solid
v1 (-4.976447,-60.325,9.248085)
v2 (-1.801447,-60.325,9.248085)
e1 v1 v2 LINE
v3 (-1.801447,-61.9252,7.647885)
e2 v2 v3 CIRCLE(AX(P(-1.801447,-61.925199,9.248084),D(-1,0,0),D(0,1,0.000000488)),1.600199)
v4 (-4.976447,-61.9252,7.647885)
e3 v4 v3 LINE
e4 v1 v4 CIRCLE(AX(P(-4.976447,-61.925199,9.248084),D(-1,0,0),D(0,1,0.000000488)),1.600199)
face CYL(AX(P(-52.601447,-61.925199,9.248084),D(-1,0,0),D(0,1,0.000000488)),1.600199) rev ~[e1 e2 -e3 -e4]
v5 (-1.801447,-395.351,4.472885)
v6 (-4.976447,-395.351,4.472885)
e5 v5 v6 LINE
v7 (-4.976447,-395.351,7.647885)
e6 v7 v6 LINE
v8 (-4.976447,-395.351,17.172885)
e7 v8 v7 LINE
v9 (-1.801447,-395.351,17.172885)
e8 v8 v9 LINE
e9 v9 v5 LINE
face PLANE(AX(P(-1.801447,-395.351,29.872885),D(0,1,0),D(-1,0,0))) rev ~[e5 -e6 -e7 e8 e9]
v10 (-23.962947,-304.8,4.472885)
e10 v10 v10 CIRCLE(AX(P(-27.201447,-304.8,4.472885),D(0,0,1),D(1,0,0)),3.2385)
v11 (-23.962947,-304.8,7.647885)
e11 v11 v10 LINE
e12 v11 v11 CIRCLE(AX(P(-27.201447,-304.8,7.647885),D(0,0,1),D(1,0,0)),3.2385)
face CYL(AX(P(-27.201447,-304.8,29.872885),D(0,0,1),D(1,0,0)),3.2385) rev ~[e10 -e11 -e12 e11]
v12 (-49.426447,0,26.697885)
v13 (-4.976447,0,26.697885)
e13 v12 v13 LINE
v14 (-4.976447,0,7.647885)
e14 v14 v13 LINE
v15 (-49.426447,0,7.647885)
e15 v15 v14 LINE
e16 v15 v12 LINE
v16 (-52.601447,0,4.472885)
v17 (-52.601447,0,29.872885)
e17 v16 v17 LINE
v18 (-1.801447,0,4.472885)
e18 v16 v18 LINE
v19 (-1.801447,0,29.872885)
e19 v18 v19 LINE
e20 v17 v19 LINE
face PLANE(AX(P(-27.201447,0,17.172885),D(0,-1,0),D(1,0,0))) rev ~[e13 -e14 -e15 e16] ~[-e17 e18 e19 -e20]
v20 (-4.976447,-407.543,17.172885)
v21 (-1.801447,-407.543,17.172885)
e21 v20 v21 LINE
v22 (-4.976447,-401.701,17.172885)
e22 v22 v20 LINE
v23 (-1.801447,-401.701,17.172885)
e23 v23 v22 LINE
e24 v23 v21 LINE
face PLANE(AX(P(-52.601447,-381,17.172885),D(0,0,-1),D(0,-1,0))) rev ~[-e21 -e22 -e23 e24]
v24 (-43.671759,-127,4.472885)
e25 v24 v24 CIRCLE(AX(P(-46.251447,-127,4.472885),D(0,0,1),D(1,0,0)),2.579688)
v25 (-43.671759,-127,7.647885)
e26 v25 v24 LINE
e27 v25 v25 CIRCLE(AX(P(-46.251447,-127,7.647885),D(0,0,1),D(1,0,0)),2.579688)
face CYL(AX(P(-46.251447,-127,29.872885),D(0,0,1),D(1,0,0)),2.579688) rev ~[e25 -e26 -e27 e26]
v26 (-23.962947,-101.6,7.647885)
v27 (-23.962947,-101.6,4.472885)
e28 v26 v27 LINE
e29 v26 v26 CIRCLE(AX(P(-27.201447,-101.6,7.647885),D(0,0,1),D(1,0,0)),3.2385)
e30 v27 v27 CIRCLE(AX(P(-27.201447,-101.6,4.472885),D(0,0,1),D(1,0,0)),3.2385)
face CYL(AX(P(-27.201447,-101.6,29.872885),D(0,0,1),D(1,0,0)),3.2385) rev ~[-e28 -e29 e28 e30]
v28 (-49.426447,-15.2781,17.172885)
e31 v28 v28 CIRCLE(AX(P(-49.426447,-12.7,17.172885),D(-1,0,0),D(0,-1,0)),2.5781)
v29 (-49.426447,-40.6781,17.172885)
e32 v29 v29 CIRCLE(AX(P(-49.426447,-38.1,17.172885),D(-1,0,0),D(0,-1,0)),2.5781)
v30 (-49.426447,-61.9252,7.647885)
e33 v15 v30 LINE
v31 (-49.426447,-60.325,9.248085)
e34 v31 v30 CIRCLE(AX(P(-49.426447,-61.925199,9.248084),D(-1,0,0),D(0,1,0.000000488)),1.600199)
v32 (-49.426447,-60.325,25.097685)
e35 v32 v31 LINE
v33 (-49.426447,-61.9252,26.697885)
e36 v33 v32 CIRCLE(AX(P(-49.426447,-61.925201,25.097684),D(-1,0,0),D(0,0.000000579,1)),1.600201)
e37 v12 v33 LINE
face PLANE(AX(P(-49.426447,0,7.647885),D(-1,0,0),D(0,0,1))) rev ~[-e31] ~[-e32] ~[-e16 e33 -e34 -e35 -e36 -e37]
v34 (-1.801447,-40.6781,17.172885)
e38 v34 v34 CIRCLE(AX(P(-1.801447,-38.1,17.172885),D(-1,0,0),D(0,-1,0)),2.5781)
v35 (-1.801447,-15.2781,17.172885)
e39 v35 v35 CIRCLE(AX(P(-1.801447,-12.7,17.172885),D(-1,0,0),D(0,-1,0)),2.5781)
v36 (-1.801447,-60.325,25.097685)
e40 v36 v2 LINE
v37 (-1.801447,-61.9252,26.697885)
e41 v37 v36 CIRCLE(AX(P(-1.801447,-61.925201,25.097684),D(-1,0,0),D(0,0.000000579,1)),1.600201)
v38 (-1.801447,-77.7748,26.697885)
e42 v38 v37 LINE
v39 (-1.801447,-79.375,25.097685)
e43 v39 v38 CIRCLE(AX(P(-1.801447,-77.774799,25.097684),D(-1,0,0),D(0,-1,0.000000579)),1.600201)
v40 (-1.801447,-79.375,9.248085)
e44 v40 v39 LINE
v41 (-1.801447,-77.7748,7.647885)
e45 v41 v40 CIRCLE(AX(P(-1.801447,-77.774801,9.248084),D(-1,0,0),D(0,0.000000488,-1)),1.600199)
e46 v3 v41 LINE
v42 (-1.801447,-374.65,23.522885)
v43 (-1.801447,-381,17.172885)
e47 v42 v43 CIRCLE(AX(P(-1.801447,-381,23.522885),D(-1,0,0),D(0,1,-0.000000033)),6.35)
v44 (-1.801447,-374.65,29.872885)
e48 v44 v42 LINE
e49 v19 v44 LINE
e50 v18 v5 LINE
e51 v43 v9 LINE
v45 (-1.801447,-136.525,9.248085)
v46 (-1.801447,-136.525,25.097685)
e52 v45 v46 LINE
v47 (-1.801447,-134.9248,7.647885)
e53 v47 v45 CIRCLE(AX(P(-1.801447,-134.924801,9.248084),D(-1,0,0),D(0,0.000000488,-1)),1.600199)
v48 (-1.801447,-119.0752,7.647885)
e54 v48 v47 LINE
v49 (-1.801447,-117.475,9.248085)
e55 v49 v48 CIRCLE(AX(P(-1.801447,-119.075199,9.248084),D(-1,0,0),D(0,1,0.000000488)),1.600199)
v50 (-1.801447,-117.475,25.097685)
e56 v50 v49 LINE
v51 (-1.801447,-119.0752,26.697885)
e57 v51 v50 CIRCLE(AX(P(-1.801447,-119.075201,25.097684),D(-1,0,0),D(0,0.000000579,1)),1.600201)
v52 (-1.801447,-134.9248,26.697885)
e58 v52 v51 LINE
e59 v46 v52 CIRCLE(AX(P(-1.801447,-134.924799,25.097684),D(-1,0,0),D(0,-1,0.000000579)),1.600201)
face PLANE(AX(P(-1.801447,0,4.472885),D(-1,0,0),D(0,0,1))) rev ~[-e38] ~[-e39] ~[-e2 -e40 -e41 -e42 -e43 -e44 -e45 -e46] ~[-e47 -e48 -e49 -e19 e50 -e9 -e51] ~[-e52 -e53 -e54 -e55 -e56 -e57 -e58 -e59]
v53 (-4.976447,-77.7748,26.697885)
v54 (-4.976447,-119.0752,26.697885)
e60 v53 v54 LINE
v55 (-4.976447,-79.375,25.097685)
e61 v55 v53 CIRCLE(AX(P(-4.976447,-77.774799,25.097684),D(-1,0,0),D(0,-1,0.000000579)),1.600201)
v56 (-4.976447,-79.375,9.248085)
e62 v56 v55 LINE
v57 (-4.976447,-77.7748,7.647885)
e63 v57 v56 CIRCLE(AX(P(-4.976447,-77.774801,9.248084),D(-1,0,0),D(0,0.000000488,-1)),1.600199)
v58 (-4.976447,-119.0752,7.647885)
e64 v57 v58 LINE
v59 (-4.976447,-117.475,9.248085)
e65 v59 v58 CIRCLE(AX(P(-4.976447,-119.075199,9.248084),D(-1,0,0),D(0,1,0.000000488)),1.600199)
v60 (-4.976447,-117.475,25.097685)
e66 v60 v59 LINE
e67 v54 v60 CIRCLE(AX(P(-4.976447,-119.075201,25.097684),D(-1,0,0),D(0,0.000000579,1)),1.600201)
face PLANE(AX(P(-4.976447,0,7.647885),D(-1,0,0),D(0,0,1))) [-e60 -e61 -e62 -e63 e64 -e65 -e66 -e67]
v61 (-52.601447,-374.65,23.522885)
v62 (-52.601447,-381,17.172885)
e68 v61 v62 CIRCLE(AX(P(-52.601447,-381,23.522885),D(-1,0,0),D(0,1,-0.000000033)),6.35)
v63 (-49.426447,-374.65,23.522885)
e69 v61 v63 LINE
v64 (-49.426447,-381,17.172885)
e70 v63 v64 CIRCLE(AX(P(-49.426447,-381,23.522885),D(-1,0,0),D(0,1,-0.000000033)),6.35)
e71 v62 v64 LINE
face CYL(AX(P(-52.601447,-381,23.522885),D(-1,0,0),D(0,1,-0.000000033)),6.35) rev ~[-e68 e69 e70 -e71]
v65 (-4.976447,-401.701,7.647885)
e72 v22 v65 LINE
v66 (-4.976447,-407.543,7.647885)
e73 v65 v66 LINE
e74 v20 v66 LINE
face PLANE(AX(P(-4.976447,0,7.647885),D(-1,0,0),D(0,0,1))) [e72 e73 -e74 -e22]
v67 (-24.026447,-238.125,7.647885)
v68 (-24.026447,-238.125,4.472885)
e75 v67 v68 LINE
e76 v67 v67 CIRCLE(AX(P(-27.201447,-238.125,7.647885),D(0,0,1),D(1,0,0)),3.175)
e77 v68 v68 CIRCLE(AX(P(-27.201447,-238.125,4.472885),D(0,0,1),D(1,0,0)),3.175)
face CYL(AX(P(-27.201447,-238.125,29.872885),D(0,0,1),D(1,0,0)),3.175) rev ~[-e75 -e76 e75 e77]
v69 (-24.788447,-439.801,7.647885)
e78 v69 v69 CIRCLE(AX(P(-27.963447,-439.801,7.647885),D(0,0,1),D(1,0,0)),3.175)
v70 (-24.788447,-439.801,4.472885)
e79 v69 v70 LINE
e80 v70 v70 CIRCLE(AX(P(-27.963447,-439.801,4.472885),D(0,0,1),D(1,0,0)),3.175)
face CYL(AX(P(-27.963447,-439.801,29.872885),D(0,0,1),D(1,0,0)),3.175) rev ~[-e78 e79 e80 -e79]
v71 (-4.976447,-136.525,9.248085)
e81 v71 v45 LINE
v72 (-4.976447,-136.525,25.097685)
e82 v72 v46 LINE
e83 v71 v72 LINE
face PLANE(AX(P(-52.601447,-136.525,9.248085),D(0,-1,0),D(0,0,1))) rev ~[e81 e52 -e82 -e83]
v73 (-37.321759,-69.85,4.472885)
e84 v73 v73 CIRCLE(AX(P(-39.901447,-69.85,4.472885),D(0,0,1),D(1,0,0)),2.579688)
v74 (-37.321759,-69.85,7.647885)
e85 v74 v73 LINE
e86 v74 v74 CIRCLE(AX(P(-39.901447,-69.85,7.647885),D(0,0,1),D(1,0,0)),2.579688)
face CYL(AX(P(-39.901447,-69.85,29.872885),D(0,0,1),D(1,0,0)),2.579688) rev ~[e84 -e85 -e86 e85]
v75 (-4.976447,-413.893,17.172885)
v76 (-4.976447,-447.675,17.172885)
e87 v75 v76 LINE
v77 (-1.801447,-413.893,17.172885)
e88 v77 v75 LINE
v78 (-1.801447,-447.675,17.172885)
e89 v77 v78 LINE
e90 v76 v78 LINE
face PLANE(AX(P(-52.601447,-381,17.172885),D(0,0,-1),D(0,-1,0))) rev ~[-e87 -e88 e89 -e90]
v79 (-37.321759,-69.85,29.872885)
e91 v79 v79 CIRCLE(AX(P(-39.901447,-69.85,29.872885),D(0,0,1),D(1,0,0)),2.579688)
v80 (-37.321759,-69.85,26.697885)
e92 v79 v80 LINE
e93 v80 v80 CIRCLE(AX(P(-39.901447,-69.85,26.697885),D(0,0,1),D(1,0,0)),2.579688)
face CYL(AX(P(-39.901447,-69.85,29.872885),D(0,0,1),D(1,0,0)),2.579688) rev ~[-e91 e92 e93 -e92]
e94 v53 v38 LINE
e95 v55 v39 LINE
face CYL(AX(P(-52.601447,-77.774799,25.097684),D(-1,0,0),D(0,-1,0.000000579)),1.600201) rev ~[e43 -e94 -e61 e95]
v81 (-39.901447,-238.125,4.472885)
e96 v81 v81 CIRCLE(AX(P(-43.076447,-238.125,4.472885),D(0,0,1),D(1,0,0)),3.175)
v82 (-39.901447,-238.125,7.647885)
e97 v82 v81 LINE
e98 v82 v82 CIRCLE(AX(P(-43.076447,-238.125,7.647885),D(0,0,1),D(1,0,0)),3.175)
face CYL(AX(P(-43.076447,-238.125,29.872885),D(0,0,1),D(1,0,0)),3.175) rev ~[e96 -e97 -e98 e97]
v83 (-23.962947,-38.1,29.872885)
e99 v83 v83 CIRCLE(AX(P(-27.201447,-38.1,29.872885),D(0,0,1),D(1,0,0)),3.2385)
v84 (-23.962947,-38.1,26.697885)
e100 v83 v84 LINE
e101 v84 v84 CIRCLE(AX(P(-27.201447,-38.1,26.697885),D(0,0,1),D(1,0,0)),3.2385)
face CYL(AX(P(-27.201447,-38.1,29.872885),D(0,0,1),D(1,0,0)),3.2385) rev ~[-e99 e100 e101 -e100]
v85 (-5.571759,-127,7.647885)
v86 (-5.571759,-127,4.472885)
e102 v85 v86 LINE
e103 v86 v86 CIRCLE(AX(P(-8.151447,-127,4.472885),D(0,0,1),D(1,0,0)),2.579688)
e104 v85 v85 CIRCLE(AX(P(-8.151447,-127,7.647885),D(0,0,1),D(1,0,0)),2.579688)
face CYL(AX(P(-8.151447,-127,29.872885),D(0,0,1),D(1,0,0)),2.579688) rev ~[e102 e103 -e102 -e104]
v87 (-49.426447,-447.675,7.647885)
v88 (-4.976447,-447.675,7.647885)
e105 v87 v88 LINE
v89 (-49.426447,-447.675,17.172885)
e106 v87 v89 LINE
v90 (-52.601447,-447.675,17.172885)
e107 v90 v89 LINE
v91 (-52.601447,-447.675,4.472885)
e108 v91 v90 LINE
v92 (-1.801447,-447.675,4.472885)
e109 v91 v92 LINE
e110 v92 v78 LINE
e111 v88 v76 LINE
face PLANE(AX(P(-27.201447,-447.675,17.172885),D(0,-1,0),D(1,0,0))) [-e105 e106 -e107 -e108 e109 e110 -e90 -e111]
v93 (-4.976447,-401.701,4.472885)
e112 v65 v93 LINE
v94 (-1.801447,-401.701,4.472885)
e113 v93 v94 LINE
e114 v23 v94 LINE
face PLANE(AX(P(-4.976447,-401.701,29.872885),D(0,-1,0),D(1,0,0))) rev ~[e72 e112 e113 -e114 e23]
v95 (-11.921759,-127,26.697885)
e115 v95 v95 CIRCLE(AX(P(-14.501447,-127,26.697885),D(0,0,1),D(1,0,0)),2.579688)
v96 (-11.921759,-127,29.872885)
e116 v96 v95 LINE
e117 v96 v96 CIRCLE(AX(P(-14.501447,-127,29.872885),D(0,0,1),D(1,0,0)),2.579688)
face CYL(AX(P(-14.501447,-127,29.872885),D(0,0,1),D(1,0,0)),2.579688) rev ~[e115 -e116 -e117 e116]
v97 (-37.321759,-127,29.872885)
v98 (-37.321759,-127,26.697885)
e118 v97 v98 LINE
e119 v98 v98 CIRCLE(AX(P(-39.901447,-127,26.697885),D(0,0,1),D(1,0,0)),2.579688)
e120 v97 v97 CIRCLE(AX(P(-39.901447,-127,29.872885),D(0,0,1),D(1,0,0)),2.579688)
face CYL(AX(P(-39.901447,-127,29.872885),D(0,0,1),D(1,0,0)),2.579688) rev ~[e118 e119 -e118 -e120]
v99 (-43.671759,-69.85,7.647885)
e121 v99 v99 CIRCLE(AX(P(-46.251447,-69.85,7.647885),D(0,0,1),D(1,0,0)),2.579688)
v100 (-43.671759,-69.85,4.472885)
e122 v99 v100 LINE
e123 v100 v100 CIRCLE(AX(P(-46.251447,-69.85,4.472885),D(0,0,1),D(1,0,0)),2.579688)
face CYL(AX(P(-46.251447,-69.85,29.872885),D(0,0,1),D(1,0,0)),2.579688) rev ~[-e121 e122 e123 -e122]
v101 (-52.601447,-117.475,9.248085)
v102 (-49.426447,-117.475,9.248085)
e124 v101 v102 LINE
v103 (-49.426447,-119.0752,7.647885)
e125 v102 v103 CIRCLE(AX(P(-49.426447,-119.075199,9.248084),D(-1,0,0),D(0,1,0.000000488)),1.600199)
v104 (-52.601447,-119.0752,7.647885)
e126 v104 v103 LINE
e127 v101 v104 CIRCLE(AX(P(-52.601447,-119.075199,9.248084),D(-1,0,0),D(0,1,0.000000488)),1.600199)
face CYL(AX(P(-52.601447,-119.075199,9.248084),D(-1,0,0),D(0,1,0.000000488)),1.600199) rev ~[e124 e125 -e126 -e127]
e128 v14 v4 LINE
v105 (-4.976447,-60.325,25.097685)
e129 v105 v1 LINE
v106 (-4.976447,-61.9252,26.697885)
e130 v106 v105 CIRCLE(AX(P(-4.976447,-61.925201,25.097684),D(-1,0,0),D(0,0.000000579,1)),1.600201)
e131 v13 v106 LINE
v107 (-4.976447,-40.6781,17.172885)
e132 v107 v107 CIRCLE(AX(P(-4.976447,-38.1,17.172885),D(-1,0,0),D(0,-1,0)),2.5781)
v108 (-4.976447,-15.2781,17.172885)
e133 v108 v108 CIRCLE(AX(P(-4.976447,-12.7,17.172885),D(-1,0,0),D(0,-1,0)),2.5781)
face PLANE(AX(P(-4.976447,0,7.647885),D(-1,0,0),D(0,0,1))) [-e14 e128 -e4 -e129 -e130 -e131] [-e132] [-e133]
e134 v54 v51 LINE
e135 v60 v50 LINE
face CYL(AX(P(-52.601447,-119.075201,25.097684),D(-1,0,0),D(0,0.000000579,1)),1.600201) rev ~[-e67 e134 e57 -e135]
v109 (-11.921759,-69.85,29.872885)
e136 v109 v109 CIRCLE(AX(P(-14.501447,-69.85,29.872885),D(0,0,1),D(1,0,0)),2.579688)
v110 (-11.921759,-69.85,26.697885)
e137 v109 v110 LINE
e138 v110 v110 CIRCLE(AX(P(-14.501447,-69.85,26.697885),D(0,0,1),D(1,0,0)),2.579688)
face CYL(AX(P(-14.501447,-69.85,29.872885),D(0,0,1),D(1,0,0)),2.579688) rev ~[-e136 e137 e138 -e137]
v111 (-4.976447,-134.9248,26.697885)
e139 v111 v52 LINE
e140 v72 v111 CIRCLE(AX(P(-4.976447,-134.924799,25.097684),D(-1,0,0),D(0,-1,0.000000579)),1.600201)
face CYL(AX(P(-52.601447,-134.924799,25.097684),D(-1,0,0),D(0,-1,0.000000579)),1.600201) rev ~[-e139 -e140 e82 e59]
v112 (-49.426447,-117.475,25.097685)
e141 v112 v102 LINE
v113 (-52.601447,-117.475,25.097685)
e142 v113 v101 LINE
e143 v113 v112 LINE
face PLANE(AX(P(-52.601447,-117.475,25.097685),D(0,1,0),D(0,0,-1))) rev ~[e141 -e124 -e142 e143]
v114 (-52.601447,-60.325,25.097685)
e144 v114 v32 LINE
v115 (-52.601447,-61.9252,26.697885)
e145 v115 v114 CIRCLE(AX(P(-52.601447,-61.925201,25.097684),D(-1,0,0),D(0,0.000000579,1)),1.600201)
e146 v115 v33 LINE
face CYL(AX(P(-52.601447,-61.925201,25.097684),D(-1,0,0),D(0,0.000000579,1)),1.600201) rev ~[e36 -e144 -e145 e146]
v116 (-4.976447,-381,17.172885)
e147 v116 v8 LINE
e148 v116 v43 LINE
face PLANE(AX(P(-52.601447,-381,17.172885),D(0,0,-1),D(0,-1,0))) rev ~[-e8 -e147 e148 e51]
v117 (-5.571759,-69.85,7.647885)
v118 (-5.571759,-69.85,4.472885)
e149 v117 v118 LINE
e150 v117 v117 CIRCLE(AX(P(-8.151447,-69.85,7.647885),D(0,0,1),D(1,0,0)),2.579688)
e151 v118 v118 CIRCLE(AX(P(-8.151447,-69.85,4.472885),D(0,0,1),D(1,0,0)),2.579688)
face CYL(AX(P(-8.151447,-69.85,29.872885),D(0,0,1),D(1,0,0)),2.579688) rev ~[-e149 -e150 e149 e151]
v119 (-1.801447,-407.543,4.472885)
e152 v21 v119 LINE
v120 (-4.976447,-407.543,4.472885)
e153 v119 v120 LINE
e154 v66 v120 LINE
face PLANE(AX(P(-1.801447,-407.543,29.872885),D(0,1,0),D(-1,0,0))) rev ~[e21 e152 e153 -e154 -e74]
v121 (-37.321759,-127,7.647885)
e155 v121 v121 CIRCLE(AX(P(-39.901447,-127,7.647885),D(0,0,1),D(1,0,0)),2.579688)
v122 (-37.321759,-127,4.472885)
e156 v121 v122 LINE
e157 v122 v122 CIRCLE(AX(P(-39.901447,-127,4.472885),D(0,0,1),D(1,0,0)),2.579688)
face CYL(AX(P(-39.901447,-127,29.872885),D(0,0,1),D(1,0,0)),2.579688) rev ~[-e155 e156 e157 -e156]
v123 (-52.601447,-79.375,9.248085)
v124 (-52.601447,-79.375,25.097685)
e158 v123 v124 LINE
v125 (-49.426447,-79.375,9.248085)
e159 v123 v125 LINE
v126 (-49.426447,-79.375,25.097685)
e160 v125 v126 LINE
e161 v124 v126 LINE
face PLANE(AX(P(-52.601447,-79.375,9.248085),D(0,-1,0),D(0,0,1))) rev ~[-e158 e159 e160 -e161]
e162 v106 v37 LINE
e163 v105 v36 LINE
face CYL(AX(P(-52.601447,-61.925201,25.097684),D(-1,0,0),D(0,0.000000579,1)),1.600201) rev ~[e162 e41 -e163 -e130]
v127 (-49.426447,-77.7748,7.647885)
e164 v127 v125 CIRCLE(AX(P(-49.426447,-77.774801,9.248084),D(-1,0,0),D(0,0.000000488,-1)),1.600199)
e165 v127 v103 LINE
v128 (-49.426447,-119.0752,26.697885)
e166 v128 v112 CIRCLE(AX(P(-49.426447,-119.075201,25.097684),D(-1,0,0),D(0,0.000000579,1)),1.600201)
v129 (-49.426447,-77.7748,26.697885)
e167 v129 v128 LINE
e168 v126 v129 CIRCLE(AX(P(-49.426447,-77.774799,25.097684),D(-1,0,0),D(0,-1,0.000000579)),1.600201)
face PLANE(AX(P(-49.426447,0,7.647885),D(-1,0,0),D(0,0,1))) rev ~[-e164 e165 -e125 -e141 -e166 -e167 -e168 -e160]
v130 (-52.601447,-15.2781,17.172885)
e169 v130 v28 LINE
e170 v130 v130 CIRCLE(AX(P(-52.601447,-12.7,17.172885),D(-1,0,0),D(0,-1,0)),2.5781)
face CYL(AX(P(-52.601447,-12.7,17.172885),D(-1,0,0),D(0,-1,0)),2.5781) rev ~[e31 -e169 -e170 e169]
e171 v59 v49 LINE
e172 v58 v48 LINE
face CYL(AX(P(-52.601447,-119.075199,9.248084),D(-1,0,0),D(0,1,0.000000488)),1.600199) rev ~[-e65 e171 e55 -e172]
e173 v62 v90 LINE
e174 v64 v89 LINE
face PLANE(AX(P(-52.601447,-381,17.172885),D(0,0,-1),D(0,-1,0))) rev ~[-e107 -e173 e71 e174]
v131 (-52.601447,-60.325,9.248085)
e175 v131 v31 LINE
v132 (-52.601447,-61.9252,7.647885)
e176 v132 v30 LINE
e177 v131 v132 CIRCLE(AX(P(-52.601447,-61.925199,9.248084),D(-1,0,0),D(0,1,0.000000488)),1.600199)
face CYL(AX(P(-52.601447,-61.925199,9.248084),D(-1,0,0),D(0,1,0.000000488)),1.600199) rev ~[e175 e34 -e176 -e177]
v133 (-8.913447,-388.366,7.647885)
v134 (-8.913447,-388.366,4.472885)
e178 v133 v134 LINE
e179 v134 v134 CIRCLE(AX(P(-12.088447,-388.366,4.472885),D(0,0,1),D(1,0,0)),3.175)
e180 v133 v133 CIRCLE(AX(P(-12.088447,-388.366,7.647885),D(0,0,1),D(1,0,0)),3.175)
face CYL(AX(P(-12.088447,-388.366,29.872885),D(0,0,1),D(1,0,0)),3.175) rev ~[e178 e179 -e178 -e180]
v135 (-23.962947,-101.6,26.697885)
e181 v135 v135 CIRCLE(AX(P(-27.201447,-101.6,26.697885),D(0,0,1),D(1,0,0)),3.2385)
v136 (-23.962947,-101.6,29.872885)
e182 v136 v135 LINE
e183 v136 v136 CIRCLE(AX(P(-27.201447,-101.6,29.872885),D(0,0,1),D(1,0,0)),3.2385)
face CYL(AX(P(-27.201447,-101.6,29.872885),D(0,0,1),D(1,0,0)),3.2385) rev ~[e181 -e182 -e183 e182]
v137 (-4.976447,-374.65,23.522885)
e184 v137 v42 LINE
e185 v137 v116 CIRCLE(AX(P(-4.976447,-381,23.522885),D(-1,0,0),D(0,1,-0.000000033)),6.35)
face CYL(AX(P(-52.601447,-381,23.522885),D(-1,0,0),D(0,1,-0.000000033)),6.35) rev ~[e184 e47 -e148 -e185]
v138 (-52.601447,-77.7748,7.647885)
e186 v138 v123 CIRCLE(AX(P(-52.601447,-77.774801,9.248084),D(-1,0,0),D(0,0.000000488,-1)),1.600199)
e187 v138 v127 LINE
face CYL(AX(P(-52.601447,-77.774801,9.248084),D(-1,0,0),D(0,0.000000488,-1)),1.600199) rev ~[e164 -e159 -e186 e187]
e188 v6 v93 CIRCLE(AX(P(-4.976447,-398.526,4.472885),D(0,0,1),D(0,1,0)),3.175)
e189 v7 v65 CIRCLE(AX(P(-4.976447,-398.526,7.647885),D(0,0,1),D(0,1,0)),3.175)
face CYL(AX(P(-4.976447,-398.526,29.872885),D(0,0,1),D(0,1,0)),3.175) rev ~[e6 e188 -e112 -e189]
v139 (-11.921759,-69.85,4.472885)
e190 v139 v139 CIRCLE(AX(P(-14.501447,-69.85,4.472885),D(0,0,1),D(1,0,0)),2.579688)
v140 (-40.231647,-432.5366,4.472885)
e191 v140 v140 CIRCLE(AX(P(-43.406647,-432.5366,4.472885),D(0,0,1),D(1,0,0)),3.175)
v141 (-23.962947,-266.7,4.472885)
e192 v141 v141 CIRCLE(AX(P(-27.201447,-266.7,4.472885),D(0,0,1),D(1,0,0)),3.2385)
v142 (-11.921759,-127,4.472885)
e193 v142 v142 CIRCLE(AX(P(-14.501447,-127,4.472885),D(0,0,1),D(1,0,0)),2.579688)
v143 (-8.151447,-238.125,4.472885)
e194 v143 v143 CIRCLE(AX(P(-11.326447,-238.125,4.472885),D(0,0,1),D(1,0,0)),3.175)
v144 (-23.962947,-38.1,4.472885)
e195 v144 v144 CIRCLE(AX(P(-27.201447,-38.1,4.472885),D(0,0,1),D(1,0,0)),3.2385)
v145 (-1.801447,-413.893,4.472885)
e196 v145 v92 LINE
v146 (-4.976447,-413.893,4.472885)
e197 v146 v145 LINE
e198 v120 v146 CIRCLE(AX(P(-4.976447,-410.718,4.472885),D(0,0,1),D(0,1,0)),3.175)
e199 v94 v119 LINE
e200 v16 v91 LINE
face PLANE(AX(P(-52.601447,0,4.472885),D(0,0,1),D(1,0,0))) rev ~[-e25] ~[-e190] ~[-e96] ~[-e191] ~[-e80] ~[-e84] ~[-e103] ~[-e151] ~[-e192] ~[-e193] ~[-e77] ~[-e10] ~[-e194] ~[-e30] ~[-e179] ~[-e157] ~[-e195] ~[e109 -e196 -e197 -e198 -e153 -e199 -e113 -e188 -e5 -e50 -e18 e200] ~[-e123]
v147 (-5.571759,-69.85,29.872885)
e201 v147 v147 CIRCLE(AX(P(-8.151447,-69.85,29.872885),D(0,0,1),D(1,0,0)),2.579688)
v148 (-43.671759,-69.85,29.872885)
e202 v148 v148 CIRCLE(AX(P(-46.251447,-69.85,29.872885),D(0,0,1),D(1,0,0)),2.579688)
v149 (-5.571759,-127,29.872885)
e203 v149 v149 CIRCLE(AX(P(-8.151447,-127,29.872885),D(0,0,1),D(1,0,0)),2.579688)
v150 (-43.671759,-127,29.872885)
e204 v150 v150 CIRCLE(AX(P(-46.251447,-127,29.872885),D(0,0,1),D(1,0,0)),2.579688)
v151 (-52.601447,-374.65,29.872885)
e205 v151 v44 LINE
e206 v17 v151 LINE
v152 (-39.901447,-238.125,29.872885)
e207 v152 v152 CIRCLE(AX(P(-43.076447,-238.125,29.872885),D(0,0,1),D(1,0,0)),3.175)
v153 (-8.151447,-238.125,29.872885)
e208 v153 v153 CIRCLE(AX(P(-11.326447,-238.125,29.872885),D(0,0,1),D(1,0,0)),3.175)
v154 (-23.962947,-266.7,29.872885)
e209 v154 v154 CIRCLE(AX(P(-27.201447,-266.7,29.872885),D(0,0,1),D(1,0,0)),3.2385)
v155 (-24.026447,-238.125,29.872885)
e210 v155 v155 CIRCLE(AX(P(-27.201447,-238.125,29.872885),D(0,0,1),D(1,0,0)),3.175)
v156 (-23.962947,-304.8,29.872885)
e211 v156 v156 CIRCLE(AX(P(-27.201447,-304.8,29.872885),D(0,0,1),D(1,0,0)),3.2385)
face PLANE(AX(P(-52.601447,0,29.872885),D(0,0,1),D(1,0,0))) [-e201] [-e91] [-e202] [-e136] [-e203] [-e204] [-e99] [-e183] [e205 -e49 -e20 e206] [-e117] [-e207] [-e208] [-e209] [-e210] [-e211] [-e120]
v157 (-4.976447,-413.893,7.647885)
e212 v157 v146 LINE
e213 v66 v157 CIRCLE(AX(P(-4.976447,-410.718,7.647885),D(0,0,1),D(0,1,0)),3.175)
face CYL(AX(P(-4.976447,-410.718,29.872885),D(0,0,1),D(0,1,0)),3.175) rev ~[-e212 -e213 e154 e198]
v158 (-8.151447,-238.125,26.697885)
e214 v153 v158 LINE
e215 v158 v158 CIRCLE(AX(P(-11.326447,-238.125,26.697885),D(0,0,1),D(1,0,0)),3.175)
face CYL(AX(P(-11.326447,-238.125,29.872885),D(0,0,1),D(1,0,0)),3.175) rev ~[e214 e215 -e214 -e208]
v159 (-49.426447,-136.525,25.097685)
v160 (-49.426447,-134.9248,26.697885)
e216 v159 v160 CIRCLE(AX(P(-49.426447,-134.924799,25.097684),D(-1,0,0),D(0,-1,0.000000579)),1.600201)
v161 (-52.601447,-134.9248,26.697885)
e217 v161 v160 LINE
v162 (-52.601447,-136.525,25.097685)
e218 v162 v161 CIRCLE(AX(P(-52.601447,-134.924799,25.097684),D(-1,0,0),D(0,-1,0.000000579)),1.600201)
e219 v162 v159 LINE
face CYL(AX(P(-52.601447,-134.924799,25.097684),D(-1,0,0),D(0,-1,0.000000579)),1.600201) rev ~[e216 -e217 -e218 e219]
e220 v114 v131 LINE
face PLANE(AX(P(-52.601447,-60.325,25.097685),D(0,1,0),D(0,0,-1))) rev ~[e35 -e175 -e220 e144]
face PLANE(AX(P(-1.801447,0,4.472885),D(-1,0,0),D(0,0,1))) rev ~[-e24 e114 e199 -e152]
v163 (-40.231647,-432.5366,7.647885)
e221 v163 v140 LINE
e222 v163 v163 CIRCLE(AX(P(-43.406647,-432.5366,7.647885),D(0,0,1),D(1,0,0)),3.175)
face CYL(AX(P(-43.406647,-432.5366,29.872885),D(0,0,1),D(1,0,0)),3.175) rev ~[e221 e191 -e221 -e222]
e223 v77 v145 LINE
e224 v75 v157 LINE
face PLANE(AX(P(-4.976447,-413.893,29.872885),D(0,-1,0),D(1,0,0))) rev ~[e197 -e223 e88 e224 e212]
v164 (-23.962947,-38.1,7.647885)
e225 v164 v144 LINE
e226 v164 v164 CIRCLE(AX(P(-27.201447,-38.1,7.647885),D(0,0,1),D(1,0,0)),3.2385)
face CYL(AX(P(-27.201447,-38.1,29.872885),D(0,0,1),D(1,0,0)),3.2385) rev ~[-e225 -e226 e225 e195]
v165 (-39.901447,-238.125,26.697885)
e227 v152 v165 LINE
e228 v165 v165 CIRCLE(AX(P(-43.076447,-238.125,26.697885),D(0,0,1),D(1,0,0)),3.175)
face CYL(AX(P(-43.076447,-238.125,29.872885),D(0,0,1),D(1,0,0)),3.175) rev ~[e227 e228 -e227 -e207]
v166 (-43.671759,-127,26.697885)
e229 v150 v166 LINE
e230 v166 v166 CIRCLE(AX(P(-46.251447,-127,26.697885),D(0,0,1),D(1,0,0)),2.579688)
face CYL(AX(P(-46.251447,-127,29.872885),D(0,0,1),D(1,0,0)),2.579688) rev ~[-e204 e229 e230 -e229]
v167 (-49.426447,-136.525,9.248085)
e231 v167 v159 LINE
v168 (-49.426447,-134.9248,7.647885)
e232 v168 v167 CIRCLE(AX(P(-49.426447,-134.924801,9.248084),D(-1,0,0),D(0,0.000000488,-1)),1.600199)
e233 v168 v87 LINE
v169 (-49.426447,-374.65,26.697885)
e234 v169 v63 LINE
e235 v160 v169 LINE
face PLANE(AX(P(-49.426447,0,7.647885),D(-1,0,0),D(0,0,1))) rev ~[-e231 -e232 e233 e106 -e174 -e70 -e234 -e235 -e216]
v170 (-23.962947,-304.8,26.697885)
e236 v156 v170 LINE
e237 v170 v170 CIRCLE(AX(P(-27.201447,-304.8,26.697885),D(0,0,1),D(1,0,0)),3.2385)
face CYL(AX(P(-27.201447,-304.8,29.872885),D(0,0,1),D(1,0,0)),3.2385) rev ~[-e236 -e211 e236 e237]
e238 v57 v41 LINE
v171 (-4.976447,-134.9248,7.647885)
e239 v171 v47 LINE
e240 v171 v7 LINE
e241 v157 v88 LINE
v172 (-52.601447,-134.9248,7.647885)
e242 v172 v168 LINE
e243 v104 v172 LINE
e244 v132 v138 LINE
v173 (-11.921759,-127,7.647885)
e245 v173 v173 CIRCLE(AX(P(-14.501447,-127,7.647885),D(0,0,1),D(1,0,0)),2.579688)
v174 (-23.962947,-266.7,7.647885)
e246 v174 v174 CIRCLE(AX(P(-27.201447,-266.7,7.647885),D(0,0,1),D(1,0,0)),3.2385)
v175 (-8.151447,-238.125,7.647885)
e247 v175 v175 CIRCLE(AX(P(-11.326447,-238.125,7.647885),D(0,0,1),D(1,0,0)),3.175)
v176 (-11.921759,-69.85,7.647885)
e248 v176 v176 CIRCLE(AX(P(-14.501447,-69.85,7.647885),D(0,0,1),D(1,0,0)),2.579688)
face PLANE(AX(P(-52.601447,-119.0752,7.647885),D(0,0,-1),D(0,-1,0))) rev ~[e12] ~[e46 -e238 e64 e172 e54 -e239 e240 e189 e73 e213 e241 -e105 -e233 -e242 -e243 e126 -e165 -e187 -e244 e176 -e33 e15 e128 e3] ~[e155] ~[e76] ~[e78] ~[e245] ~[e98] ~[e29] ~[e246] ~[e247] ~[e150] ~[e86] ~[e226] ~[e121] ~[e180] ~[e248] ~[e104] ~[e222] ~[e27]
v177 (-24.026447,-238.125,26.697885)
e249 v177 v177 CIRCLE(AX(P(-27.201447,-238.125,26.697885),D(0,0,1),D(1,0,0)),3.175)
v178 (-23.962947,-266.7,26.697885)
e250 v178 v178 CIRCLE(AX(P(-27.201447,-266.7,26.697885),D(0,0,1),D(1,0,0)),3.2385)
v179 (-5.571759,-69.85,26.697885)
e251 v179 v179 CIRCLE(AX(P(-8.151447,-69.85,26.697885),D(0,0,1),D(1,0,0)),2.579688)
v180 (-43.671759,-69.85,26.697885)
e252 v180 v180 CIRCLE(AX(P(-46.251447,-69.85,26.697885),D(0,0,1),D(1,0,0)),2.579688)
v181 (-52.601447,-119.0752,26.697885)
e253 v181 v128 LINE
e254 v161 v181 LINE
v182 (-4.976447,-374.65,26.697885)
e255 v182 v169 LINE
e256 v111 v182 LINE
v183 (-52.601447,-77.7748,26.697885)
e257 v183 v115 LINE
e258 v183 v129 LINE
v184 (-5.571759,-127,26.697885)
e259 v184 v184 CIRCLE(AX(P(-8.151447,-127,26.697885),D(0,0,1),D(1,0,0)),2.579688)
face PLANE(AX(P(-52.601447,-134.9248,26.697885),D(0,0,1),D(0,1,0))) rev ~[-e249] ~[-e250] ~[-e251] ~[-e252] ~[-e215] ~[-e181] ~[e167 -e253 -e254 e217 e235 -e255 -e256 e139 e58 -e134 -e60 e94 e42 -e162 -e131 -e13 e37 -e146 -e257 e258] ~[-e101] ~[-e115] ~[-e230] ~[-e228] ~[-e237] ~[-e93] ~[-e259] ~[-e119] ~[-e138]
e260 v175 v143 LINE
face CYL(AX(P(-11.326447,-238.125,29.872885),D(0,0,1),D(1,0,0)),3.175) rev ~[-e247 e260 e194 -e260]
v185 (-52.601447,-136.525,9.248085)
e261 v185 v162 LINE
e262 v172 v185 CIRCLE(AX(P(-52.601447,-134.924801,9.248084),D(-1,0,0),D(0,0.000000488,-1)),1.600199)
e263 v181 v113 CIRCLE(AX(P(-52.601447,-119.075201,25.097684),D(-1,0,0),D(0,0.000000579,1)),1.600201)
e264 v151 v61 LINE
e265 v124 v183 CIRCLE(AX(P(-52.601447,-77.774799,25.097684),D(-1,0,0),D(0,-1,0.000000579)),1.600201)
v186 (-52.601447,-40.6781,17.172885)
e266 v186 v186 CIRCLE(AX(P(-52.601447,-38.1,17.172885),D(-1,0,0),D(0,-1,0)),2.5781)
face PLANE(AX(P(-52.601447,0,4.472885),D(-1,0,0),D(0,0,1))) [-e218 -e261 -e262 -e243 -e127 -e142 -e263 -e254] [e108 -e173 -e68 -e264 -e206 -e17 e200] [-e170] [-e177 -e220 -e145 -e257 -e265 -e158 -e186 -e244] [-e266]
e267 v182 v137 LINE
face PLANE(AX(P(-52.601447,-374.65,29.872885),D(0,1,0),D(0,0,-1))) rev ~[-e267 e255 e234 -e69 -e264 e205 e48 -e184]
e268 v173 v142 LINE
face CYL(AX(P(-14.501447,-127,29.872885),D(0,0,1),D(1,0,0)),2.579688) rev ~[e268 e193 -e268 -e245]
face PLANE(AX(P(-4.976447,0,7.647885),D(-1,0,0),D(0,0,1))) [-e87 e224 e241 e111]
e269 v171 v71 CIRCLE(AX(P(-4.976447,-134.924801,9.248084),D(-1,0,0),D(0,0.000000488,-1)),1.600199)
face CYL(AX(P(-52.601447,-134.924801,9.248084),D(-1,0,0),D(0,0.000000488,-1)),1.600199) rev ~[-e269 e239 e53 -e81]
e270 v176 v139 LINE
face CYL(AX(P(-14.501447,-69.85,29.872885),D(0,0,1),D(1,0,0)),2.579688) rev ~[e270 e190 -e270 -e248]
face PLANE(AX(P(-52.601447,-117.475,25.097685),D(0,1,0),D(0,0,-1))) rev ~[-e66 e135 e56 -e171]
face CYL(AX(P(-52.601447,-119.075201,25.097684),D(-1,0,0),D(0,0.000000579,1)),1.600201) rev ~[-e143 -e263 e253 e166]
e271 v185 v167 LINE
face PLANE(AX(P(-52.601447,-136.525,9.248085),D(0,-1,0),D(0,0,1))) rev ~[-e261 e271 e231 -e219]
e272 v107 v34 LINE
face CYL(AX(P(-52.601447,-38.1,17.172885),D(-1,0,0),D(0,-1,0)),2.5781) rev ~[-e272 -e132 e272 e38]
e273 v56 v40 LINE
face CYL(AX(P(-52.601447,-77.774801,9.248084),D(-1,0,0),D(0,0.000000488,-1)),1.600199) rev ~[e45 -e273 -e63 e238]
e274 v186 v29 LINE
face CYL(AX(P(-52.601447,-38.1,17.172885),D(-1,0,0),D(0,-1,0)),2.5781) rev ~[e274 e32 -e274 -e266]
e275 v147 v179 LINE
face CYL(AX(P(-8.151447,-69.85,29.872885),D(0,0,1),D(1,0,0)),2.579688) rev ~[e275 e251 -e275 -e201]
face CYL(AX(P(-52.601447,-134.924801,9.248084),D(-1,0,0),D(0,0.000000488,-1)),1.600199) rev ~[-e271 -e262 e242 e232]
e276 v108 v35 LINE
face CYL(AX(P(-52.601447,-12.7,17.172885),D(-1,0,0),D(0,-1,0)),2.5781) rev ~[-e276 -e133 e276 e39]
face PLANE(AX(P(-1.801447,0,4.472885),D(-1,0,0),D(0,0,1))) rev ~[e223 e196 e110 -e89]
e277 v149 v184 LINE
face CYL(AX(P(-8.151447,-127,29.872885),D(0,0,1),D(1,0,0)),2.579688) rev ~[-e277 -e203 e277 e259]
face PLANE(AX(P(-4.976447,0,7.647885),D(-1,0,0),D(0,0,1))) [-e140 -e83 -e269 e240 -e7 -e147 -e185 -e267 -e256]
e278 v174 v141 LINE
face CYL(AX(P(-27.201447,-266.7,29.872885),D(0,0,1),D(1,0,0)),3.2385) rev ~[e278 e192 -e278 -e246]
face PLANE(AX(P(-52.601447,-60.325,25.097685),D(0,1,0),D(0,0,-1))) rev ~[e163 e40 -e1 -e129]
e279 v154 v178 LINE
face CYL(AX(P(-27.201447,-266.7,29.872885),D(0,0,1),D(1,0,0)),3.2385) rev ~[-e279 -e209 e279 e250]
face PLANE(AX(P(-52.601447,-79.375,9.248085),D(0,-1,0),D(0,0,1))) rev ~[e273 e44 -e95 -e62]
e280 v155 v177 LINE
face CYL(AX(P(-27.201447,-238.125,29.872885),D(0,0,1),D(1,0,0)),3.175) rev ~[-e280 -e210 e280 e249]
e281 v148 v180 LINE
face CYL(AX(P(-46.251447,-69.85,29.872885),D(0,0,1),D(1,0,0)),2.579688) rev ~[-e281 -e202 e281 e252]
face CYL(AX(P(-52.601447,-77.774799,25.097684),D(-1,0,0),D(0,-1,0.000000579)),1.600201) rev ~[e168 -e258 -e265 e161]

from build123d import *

# Parameters (mm, degrees)
F0_W     = 50.8
F0_H     = 25.4
F0_W_2   = 44.45
F0_H_2   = 19.05
F1_DEPTH = 447.675
F2_R     = 3.2385
F2_R_2   = 2.579688
F2_R_3   = 3.175
F3_DEPTH = 25.4
F4_R     = 2.5781
F5_DEPTH = 50.801
F6_DEPTH = 76.2
F7_DEPTH = 25.4


with BuildPart() as f1:
    # F0 (on Front) → F1 (new body)
    with BuildSketch(Plane.XZ):
        with Locations((-27.201447, 17.172885)):
            Rectangle(F0_W, F0_H)
        with Locations((-27.201447, 17.172885)):
            Rectangle(F0_W_2, F0_H_2, mode=Mode.SUBTRACT)
    extrude(amount=F1_DEPTH)

    # F2 (on face) → F3 (cut)
    with BuildSketch(Plane.XY.offset(29.872885)):
        with Locations((-27.201447, -304.8)):
            Circle(F2_R)
        with Locations((-27.201447, -266.7)):
            Circle(F2_R)
        with Locations((-27.201447, -101.6)):
            Circle(F2_R)
        with Locations((-27.201447, -38.1)):
            Circle(F2_R)
        with Locations((-46.251447, -127)):
            Circle(F2_R_2)
        with Locations((-39.901447, -127)):
            Circle(F2_R_2)
        with Locations((-14.501447, -127)):
            Circle(F2_R_2)
        with Locations((-8.151447, -127)):
            Circle(F2_R_2)
        with Locations((-46.251447, -69.85)):
            Circle(F2_R_2)
        with Locations((-39.901447, -69.85)):
            Circle(F2_R_2)
        with Locations((-14.501447, -69.85)):
            Circle(F2_R_2)
        with Locations((-8.151447, -69.85)):
            Circle(F2_R_2)
        with Locations((-43.076447, -238.125)):
            Circle(F2_R_3)
        with Locations((-27.201447, -238.125)):
            Circle(F2_R_3)
        with Locations((-11.326447, -238.125)):
            Circle(F2_R_3)
        with Locations((-12.088447, -388.366)):
            Circle(F2_R_3)
    extrude(amount=-F3_DEPTH, mode=Mode.SUBTRACT)

    # F4 (on face) → F5 (cut, through all)
    with BuildSketch(Plane(origin=(-52.601447, 0, 0), x_dir=(0, -1, 0), z_dir=(-1, 0, 0))):
        with Locations((38.1, 17.172885)):
            Circle(F4_R)
        with Locations((12.7, 17.172885)):
            Circle(F4_R)
        with BuildLine():
            ThreePointArc((60.325, 9.248085), (60.793688, 8.116572), (61.9252, 7.647885))
            Line((61.9252, 7.647885), (77.7748, 7.647885))
            ThreePointArc((77.7748, 7.647885), (78.906312, 8.116572), (79.375, 9.248085))
            Line((79.375, 9.248085), (79.375, 25.097685))
            ThreePointArc((79.375, 25.097685), (78.906312, 26.229197), (77.7748, 26.697885))
            Line((77.7748, 26.697885), (61.9252, 26.697885))
            ThreePointArc((61.9252, 26.697885), (60.793688, 26.229197), (60.325, 25.097685))
            Line((60.325, 25.097685), (60.325, 9.248085))
        make_face()
        with BuildLine():
            ThreePointArc((117.475, 9.248085), (117.943688, 8.116572), (119.0752, 7.647885))
            Line((119.0752, 7.647885), (134.9248, 7.647885))
            ThreePointArc((134.9248, 7.647885), (136.056312, 8.116572), (136.525, 9.248085))
            Line((136.525, 9.248085), (136.525, 25.097685))
            ThreePointArc((136.525, 25.097685), (136.056312, 26.229197), (134.9248, 26.697885))
            Line((134.9248, 26.697885), (119.0752, 26.697885))
            ThreePointArc((119.0752, 26.697885), (117.943688, 26.229197), (117.475, 25.097685))
            Line((117.475, 25.097685), (117.475, 9.248085))
        make_face()
    extrude(amount=-F5_DEPTH, mode=Mode.SUBTRACT)

    # F4 (on face) → F6 (cut)
    with BuildSketch(Plane(origin=(-52.601447, 0, 0), x_dir=(0, -1, 0), z_dir=(-1, 0, 0))):
        with Locations((12.7, 17.172885)):
            Circle(F4_R)
        with Locations((38.1, 17.172885)):
            Circle(F4_R)
        with BuildLine():
            ThreePointArc((60.325, 9.248085), (60.793688, 8.116572), (61.9252, 7.647885))
            Line((61.9252, 7.647885), (77.7748, 7.647885))
            ThreePointArc((77.7748, 7.647885), (78.906312, 8.116572), (79.375, 9.248085))
            Line((79.375, 9.248085), (79.375, 25.097685))
            ThreePointArc((79.375, 25.097685), (78.906312, 26.229197), (77.7748, 26.697885))
            Line((77.7748, 26.697885), (61.9252, 26.697885))
            ThreePointArc((61.9252, 26.697885), (60.793688, 26.229197), (60.325, 25.097685))
            Line((60.325, 25.097685), (60.325, 9.248085))
        make_face()
        with BuildLine():
            ThreePointArc((117.475, 9.248085), (117.943688, 8.116572), (119.0752, 7.647885))
            Line((119.0752, 7.647885), (134.9248, 7.647885))
            ThreePointArc((134.9248, 7.647885), (136.056312, 8.116572), (136.525, 9.248085))
            Line((136.525, 9.248085), (136.525, 25.097685))
            ThreePointArc((136.525, 25.097685), (136.056312, 26.229197), (134.9248, 26.697885))
            Line((134.9248, 26.697885), (119.0752, 26.697885))
            ThreePointArc((119.0752, 26.697885), (117.943688, 26.229197), (117.475, 25.097685))
            Line((117.475, 25.097685), (117.475, 9.248085))
        make_face()
        with BuildLine():
            ThreePointArc((374.65, 23.522885), (376.509872, 19.032757), (381, 17.172885))
            Line((381, 17.172885), (447.675, 17.172885))
            Line((447.675, 17.172885), (447.675, 29.872885))
            Line((447.675, 29.872885), (374.65, 29.872885))
            Line((374.65, 29.872885), (374.65, 23.522885))
        make_face()
    extrude(amount=-F6_DEPTH, mode=Mode.SUBTRACT)

    # F2 (on face) → F7 (cut)
    with BuildSketch(Plane.XY.offset(29.872885)):
        with Locations((-27.963447, -439.801)):
            Circle(F2_R_3)
        with Locations((-43.406647, -432.5366)):
            Circle(F2_R_3)
        with BuildLine():
            Line((-1.801447, -407.543), (-4.976447, -407.543))
            ThreePointArc((-4.976447, -407.543), (-8.151447, -410.718), (-4.976447, -413.893))
            Line((-4.976447, -413.893), (-1.801447, -413.893))
            Line((-1.801447, -413.893), (-1.801447, -407.543))
        make_face()
        with BuildLine():
            Line((-4.976447, -401.701), (-1.801447, -401.701))
            Line((-1.801447, -401.701), (-1.801447, -395.351))
            Line((-1.801447, -395.351), (-4.976447, -395.351))
            ThreePointArc((-4.976447, -395.351), (-8.151447, -398.526), (-4.976447, -401.701))
        make_face()
    extrude(amount=-F7_DEPTH, mode=Mode.SUBTRACT)


solid = f1.part
